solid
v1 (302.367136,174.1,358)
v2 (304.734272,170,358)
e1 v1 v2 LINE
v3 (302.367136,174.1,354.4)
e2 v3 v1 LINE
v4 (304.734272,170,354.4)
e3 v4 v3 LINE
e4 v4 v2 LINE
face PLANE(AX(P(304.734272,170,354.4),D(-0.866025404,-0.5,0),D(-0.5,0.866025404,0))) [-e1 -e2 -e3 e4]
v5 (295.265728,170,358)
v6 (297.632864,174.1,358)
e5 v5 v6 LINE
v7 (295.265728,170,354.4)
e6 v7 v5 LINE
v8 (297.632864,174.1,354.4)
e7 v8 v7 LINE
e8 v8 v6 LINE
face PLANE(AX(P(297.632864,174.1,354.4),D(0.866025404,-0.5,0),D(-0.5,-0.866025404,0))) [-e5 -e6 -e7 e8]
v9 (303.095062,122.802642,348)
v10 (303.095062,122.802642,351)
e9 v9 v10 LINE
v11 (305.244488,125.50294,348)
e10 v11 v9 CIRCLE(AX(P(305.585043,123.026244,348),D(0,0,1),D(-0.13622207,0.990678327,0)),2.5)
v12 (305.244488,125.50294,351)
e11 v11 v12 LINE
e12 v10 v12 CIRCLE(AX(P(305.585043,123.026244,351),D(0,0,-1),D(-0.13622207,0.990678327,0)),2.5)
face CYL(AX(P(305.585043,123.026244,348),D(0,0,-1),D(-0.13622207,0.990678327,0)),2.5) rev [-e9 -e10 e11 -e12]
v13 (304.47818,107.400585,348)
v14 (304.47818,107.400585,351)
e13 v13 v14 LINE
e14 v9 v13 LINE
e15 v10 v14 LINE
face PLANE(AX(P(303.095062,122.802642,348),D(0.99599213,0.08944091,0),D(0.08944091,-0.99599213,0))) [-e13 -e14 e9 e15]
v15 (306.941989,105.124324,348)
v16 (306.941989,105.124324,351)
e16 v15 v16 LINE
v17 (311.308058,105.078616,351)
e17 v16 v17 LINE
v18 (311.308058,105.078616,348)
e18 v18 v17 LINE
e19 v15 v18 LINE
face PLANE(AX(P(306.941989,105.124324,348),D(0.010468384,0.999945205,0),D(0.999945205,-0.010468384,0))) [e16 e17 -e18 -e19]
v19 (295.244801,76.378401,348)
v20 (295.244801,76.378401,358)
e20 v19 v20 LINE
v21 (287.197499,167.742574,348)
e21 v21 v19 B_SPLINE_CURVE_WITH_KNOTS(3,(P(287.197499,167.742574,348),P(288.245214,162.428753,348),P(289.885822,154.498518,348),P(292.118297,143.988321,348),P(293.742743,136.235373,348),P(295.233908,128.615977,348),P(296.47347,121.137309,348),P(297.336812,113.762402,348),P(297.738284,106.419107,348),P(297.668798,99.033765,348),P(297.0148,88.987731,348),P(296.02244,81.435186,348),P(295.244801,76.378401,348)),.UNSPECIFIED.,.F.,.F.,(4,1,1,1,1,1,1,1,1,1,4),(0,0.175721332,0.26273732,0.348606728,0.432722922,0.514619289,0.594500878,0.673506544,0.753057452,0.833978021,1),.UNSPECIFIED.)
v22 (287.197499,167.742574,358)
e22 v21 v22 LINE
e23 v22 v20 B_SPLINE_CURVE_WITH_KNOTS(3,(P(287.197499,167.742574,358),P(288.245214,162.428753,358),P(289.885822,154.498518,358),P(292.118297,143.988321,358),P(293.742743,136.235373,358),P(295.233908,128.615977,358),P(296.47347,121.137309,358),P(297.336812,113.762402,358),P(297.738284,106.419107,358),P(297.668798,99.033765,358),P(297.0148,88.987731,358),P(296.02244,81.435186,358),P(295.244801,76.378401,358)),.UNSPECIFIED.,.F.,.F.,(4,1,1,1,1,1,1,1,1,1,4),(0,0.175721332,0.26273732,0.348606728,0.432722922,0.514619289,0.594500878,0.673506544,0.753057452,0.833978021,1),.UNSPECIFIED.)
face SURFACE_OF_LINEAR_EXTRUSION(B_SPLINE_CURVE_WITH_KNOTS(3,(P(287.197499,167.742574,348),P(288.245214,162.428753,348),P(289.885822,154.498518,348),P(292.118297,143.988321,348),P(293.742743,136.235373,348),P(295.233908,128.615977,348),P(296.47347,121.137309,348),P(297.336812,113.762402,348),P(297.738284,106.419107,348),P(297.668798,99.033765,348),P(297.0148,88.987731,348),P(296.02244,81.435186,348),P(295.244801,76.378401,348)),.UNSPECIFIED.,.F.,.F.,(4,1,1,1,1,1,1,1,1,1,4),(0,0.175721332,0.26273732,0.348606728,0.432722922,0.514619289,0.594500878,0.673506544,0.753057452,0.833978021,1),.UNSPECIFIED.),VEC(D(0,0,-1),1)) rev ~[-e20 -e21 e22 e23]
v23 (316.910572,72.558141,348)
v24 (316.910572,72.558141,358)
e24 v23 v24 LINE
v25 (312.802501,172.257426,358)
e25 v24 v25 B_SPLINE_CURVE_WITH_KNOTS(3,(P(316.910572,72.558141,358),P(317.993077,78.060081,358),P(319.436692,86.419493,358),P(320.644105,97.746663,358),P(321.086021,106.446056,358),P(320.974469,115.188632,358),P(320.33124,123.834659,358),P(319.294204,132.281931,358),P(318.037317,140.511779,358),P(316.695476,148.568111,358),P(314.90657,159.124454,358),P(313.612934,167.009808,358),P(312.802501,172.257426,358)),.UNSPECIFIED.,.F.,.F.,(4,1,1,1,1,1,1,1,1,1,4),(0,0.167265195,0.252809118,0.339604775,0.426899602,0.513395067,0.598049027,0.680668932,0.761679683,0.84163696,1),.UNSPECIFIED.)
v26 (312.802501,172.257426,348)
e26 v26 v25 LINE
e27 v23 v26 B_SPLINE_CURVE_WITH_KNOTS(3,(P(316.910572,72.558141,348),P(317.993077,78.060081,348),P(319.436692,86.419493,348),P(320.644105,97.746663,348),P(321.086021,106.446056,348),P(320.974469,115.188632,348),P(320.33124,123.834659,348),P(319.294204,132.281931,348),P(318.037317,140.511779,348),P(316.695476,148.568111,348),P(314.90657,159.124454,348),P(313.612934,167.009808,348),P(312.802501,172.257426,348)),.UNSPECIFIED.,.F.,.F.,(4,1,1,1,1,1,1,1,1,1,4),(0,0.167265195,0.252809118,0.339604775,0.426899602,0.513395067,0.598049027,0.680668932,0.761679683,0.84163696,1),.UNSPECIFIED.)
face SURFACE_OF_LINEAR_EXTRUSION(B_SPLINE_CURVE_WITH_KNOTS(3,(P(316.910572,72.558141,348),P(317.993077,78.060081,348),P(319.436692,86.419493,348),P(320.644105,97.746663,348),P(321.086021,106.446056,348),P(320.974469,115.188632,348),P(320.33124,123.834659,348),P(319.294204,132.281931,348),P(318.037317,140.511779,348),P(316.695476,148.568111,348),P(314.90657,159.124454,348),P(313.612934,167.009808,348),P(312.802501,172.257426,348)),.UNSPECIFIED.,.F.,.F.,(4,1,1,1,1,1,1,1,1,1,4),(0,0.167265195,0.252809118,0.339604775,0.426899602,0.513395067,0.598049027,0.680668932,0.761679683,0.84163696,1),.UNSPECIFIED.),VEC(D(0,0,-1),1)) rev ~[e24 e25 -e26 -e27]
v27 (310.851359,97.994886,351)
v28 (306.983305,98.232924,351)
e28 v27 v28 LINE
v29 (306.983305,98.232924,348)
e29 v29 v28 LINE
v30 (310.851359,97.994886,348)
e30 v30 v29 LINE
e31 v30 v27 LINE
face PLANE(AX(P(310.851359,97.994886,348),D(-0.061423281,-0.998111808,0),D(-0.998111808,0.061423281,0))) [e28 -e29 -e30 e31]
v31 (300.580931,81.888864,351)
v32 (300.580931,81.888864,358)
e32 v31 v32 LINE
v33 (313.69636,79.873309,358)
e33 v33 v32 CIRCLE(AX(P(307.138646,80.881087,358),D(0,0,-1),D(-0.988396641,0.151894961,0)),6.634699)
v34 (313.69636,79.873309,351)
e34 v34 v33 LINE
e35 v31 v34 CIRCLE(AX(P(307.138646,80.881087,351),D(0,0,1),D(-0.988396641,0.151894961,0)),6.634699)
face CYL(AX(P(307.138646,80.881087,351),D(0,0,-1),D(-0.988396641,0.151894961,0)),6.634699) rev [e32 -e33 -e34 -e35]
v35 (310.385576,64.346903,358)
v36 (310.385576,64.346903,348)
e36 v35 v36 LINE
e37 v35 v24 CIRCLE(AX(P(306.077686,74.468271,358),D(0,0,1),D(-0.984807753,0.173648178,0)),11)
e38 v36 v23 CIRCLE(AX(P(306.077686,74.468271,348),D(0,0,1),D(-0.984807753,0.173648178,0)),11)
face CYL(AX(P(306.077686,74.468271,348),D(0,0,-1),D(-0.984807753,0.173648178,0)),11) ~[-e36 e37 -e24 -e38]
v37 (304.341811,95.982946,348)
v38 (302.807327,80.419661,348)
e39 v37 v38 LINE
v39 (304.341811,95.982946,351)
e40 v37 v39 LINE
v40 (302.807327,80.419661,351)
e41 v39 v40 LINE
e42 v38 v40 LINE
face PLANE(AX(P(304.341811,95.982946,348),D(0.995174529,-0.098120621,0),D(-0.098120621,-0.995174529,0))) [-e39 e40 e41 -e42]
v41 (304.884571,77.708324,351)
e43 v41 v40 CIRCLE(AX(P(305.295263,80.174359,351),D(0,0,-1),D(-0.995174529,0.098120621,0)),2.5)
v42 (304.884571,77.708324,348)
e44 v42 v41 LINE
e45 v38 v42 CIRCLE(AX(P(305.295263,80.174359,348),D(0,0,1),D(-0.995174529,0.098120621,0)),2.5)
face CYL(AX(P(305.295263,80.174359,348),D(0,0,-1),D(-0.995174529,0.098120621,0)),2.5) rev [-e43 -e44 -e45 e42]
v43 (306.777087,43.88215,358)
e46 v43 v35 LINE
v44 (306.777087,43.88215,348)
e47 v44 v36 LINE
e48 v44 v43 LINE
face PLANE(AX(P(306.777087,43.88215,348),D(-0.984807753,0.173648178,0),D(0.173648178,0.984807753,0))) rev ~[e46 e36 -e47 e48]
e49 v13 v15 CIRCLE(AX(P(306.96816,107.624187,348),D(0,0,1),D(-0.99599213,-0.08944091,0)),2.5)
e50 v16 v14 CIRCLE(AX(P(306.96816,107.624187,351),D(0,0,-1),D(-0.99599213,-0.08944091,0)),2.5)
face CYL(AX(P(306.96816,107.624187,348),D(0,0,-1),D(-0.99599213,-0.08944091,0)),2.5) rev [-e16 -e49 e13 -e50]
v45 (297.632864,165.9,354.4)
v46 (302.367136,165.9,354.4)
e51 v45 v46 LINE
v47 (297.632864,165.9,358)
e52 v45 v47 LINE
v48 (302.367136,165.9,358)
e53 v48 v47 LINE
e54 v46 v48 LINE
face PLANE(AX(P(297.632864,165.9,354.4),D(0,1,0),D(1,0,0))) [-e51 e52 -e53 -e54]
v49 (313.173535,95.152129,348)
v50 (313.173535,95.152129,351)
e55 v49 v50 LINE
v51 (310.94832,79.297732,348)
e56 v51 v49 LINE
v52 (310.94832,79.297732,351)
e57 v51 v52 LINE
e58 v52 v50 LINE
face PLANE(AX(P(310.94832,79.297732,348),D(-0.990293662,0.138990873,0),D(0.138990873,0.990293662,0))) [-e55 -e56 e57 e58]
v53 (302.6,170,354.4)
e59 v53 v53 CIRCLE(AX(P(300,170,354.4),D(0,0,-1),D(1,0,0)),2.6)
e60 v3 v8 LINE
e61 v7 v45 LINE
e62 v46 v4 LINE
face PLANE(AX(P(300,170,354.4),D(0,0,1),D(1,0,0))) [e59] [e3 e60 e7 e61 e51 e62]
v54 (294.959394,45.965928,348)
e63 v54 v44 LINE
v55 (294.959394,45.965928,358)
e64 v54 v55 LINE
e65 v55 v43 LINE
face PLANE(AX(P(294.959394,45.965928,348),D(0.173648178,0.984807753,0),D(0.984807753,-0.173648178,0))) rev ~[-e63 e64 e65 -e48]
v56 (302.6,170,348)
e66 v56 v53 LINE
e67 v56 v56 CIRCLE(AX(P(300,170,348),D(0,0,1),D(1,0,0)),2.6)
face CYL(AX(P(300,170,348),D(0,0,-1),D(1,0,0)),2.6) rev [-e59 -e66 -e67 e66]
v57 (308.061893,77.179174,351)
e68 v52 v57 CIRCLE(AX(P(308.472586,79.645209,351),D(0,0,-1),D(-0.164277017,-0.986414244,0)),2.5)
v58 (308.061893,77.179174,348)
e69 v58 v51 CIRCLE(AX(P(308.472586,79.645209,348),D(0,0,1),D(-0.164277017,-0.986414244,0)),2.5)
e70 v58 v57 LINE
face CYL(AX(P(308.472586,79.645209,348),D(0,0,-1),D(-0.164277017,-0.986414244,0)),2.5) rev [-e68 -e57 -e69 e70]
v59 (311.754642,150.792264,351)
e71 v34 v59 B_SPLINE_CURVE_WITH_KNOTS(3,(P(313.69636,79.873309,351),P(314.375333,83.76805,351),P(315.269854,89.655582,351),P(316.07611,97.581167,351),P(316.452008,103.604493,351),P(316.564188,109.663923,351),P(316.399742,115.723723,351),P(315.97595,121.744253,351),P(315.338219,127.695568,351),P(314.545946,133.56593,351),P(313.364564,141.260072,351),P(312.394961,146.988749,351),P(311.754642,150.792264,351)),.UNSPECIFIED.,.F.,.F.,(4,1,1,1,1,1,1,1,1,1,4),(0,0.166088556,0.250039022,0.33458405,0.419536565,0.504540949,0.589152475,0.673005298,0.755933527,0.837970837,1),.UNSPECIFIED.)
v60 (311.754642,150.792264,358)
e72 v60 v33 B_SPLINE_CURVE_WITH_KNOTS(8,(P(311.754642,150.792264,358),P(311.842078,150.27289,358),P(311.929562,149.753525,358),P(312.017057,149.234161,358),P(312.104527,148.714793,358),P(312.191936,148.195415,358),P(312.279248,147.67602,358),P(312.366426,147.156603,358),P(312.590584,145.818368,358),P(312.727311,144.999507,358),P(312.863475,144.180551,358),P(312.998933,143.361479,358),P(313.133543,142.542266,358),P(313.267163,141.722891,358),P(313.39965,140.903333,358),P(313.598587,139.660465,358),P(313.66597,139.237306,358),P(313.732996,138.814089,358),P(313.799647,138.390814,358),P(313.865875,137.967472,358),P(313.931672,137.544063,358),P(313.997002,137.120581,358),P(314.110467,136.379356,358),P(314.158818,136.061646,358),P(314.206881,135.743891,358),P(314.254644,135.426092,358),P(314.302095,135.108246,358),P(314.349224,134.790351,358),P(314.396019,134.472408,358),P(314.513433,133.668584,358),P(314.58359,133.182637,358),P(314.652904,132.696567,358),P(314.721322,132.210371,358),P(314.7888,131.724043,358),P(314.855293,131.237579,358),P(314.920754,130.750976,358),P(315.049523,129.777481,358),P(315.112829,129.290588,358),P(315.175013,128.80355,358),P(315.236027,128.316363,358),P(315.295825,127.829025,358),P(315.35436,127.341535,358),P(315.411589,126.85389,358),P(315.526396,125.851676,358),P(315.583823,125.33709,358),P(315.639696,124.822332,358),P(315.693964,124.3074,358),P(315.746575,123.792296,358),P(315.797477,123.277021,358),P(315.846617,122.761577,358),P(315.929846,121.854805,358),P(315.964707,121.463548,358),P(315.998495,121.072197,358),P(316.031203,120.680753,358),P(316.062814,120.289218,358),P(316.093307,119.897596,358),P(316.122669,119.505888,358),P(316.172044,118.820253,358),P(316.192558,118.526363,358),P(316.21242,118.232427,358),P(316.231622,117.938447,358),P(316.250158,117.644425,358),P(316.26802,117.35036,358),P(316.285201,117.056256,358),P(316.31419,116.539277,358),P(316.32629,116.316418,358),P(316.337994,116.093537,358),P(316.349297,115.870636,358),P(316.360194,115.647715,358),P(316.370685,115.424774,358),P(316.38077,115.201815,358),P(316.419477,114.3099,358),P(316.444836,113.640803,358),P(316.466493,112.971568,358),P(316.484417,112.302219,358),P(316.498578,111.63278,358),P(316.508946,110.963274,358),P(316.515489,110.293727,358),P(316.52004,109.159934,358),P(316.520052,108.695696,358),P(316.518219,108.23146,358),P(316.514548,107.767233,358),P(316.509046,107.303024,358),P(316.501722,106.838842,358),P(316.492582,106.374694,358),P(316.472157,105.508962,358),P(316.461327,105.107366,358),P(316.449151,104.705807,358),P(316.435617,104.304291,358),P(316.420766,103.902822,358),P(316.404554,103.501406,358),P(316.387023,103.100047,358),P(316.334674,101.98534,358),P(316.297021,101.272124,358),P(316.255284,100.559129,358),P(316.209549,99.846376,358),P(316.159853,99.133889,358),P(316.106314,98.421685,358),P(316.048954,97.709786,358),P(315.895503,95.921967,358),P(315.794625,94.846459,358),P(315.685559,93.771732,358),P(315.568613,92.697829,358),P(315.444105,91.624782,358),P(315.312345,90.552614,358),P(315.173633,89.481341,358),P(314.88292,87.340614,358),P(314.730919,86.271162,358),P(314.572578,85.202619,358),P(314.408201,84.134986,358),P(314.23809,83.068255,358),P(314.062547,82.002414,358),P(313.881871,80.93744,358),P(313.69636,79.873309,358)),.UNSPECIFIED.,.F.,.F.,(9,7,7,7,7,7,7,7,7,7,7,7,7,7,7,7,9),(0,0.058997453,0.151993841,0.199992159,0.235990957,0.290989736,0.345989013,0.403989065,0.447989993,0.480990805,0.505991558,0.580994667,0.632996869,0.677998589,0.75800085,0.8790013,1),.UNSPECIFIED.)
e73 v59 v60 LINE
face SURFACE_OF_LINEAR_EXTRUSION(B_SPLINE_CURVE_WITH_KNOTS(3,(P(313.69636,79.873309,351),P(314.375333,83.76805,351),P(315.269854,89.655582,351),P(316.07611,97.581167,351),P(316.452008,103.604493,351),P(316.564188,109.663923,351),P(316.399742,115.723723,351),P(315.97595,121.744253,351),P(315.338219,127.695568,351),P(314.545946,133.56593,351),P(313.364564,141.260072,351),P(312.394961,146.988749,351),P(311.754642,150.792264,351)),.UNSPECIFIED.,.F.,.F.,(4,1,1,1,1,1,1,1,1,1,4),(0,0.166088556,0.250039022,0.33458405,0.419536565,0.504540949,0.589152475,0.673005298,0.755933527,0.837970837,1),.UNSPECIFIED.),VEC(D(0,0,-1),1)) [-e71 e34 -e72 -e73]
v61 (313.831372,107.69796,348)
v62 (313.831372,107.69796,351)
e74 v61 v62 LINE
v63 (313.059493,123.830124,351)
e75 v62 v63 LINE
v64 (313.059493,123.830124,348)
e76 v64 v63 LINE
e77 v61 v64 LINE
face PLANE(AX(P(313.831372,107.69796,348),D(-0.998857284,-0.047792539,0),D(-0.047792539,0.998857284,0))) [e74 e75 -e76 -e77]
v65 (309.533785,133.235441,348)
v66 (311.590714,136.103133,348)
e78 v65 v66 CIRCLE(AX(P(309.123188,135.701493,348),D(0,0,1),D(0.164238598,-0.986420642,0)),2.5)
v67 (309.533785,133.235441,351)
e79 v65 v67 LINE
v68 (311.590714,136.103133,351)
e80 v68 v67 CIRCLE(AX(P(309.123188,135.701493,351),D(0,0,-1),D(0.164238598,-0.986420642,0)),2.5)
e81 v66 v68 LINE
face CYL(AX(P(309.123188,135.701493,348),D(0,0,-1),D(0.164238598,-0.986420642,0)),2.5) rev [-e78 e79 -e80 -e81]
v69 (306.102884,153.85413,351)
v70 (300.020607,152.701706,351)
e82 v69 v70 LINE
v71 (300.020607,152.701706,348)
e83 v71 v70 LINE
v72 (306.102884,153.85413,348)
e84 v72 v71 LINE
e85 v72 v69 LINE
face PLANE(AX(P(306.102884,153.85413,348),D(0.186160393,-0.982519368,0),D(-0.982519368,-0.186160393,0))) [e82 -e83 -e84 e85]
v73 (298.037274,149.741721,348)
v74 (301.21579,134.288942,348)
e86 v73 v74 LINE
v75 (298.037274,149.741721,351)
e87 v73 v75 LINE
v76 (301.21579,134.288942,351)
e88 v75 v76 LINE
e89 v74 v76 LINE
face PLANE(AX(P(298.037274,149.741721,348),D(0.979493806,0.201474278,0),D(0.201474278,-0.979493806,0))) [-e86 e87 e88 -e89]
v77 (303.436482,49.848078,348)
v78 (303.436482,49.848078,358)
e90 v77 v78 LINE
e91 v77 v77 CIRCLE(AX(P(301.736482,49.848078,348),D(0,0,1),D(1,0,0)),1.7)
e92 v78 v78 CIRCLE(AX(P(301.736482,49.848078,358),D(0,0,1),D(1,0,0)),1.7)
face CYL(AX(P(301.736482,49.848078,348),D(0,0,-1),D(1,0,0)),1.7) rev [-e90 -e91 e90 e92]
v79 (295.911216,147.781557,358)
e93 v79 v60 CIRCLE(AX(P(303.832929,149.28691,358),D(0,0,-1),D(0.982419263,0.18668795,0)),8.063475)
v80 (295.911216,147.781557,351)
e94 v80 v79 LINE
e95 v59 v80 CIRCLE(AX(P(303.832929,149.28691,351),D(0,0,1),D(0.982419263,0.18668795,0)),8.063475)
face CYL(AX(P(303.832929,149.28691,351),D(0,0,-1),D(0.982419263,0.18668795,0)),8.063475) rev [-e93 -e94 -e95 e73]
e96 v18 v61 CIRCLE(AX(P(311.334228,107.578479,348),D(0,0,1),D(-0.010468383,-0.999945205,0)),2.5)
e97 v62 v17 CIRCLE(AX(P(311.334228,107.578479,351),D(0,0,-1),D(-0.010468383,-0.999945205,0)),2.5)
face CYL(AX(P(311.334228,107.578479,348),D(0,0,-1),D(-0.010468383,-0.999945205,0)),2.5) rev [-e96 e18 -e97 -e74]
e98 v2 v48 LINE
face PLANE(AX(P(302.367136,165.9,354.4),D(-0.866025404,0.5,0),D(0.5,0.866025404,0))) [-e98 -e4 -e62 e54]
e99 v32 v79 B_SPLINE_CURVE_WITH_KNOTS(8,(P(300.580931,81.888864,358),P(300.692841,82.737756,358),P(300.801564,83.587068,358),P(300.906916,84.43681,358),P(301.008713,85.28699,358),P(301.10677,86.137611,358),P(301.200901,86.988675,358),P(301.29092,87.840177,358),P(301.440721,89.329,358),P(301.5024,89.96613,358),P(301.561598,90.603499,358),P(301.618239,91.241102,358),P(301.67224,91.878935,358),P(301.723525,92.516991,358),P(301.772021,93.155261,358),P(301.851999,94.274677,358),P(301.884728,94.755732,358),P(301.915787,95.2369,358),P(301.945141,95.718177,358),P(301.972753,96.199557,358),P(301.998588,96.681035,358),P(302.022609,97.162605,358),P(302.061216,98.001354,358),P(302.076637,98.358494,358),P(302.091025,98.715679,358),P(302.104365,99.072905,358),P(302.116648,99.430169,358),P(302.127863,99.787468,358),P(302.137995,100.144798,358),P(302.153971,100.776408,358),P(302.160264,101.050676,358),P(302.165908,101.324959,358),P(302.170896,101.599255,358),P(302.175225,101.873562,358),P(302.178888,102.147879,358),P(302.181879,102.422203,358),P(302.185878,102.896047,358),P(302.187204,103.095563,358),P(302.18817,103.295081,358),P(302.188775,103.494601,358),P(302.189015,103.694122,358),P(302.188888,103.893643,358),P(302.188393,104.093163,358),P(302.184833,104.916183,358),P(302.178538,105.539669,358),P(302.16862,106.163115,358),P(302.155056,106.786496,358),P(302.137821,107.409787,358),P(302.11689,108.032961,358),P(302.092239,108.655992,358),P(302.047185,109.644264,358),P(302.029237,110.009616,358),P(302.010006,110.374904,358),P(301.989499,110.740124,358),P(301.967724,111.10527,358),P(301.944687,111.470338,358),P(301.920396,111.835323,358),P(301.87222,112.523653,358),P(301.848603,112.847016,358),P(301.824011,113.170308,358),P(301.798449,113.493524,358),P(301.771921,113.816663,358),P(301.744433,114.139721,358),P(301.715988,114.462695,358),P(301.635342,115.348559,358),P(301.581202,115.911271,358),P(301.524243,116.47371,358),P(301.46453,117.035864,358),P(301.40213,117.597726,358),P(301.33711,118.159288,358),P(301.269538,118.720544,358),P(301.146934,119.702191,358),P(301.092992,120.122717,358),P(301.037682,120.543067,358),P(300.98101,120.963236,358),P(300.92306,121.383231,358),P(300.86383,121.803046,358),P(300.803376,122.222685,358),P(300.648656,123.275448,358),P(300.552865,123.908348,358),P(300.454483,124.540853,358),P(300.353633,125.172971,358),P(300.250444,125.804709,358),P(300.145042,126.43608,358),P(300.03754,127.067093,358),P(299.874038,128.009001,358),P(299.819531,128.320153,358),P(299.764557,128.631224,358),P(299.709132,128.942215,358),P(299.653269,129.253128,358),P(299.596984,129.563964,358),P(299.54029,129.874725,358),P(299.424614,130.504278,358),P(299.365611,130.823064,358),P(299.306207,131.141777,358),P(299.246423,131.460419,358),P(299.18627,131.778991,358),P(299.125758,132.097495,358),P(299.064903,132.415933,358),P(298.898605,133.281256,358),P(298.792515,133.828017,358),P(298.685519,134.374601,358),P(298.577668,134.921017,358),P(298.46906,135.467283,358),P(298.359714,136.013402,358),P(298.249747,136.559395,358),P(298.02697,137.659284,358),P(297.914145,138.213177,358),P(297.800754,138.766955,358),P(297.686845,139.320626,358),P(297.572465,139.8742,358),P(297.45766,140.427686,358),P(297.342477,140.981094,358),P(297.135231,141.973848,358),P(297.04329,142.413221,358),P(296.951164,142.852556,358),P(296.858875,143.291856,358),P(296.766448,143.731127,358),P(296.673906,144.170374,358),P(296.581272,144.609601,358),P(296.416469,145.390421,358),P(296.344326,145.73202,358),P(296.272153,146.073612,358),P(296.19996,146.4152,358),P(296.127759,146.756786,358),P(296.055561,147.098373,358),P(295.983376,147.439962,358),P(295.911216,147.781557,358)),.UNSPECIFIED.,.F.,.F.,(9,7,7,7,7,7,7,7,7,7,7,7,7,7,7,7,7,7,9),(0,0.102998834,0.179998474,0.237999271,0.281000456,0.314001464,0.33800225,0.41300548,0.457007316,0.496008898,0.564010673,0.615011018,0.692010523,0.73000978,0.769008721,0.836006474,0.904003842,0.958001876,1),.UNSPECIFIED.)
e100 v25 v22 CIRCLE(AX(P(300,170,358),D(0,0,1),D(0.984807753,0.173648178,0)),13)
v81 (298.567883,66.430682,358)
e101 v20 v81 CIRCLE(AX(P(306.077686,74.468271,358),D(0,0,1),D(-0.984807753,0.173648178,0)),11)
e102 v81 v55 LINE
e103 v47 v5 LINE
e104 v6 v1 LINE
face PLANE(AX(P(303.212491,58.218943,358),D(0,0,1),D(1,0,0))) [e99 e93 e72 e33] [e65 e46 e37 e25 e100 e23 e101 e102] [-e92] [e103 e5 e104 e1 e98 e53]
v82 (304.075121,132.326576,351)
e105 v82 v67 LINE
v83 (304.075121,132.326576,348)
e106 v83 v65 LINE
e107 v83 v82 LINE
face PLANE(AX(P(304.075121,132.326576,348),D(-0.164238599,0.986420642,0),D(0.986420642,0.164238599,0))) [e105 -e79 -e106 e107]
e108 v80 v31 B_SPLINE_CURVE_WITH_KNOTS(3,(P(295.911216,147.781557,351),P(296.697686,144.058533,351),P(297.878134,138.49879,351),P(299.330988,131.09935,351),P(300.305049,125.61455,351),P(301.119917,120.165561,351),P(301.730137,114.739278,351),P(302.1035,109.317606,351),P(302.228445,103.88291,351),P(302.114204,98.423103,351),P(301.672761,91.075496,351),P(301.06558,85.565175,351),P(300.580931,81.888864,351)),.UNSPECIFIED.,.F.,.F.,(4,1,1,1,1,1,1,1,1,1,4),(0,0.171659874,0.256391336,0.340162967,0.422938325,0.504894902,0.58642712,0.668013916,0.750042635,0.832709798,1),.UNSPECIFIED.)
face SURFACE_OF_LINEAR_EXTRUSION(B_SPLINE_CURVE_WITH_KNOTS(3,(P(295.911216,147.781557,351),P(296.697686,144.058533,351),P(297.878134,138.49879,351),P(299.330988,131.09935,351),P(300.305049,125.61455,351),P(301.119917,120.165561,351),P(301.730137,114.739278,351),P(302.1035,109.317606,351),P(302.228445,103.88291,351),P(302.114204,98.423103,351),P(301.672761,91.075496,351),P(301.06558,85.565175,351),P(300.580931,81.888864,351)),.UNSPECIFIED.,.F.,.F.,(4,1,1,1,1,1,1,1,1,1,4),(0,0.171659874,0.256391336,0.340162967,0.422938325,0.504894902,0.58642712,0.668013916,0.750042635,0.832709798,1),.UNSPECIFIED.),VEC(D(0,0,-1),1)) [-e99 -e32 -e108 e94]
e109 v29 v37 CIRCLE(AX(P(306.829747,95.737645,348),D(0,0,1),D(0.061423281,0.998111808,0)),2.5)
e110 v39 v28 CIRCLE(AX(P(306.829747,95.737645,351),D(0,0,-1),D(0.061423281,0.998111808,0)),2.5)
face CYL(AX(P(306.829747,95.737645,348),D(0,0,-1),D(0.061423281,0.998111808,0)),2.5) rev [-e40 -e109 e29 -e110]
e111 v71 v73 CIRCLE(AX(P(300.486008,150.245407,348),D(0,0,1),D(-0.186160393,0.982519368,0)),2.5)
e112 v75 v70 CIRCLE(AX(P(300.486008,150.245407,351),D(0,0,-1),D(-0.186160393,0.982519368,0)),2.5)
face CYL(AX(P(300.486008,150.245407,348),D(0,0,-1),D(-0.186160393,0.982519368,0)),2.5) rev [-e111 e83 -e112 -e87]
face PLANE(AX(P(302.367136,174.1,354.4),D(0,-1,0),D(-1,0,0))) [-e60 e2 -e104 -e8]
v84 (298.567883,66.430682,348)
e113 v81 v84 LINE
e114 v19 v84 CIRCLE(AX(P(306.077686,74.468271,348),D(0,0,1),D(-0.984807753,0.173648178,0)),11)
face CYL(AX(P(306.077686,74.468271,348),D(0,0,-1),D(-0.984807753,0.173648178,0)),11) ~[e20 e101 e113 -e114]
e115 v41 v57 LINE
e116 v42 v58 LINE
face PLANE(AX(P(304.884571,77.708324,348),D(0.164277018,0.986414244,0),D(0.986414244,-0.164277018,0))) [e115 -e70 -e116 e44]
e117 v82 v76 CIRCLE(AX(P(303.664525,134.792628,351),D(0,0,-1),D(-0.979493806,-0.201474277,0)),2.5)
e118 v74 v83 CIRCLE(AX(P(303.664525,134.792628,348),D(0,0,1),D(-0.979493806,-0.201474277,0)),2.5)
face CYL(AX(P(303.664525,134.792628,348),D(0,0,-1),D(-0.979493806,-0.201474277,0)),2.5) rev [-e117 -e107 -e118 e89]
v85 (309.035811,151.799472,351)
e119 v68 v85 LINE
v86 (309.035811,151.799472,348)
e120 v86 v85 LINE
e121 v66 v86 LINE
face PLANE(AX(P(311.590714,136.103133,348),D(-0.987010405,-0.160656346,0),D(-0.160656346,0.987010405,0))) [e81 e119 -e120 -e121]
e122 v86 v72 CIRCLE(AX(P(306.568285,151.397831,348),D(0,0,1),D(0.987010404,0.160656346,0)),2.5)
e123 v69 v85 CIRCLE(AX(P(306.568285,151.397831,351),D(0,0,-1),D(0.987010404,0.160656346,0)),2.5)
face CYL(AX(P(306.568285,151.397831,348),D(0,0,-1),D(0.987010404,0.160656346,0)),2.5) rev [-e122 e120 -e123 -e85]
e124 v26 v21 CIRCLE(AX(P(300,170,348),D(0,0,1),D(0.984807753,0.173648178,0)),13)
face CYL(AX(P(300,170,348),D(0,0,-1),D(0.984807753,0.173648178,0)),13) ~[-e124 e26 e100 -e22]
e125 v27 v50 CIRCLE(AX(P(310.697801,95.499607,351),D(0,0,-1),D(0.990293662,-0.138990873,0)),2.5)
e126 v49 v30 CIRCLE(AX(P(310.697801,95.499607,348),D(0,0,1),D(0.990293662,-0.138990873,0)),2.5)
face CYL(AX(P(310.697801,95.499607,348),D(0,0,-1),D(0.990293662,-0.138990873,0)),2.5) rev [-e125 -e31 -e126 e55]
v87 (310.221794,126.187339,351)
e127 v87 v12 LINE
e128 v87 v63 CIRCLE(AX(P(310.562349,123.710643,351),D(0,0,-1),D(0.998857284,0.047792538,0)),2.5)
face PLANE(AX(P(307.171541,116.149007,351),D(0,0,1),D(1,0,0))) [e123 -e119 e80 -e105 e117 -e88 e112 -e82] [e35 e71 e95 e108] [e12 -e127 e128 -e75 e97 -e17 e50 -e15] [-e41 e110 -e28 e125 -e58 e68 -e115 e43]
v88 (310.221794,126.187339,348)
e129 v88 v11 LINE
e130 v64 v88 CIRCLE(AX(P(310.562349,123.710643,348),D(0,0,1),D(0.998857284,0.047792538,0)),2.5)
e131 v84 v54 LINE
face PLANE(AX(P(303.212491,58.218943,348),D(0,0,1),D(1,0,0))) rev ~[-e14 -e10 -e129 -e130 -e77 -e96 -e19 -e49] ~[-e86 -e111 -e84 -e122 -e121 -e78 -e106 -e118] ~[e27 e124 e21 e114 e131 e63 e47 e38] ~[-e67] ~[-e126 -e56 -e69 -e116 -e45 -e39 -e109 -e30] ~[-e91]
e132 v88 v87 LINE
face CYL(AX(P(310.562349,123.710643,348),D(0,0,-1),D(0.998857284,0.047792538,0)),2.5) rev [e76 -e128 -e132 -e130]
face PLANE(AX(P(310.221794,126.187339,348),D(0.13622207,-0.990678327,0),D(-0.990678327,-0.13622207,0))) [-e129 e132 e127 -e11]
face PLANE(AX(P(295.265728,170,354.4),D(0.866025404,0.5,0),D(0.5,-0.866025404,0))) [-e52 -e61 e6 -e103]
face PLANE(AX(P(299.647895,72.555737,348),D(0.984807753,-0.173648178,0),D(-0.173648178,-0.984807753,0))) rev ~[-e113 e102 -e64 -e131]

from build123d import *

# Parameters (mm, degrees)
SKETCH1_R           = 2.6
BOSS_EXTRUDE1_DEPTH = 10
SKETCH2_R           = 1.7
BOSS_EXTRUDE2_DEPTH = 10
CUT_EXTRUDE1_DEPTH  = 3.61
CUT_EXTRUDE2_DEPTH  = 7.01


with BuildPart() as part:
    # Sketch1 → Boss-Extrude1 (new body)
    with BuildSketch(Plane.XY.offset(348)):
        with BuildLine():
            ThreePointArc((295.244800935, 76.37840131), (304.167556264, 63.635386072), (316.910571501, 72.558141401))
            add(Edge.make_bspline(
                [(316.910571501, 72.558141401), (317.993077182, 78.060080938), (319.436691833, 86.419493367), (320.644104939, 97.746663028), (321.086020795, 106.446056452), (320.974468629, 115.188631518), (320.331239752, 123.834659135), (319.294204188, 132.281931409), (318.037316746, 140.511779077), (316.695476199, 148.568110679), (314.90656957, 159.124453911), (313.612933772, 167.009808068), (312.802500789, 172.25742631)],
                knots=[0, 0, 0, 0, 0.167265195, 0.252809118, 0.339604775, 0.426899602, 0.513395067, 0.598049027, 0.680668932, 0.761679683, 0.84163696, 1, 1, 1, 1], degree=3))
            ThreePointArc((312.802500789, 172.25742631), (297.74257369, 182.802500789), (287.197499211, 167.74257369))
            add(Edge.make_bspline(
                [(287.197499211, 167.74257369), (288.245214147, 162.428752521), (289.885822364, 154.498518205), (292.118297352, 143.988320878), (293.742742512, 136.235372867), (295.2339085, 128.615976653), (296.473470386, 121.13730858), (297.336811691, 113.762401768), (297.738284398, 106.419106942), (297.668798337, 99.033764721), (297.014800417, 88.987730843), (296.022440082, 81.435185794), (295.244800935, 76.37840131)],
                knots=[0, 0, 0, 0, 0.175721332, 0.26273732, 0.348606728, 0.432722922, 0.514619289, 0.594500878, 0.673506544, 0.753057452, 0.833978021, 1, 1, 1, 1], degree=3))
        make_face()
        with Locations((300, 170)):
            Circle(SKETCH1_R, mode=Mode.SUBTRACT)
        with BuildLine():
            Line((298.037273547, 149.741721474), (301.215790437, 134.288941883))
            ThreePointArc((301.215790437, 134.288941883), (302.249879541, 132.731371076), (304.075121449, 132.326575973))
            Line((304.075121449, 132.326575973), (309.533784891, 133.235441013))
            ThreePointArc((309.533784891, 133.235441013), (311.154644108, 134.244376396), (311.590714405, 136.103133481))
            Line((311.590714405, 136.103133481), (309.035810829, 151.799472168))
            ThreePointArc((309.035810829, 151.799472168), (308.002694304, 153.44538336), (306.102883834, 153.854129723))
            Line((306.102883834, 153.854129723), (300.020607078, 152.701705588))
            ThreePointArc((300.020607078, 152.701705588), (298.409129896, 151.6370167), (298.037273547, 149.741721474))
        make_face(mode=Mode.SUBTRACT)
        with BuildLine():
            Line((303.095062376, 122.802641733), (304.478179716, 107.400584875))
            ThreePointArc((304.478179716, 107.400584875), (305.271665108, 105.787912405), (306.941989082, 105.124324138))
            Line((306.941989082, 105.124324138), (311.308057506, 105.078615953))
            ThreePointArc((311.308057506, 105.078615953), (313.134691512, 105.844024349), (313.831371675, 107.697960312))
            Line((313.831371675, 107.697960312), (313.059492575, 123.830124112))
            ThreePointArc((313.059492575, 123.830124112), (312.159795141, 125.633704646), (310.221794191, 126.187338583))
            Line((310.221794191, 126.187338583), (305.244487527, 125.502939826))
            ThreePointArc((305.244487527, 125.502939826), (303.629055674, 124.583200895), (303.095062376, 122.802641733))
        make_face(mode=Mode.SUBTRACT)
        with BuildLine():
            Line((304.341810749, 95.98294616), (302.807326902, 80.41966071))
            ThreePointArc((302.807326902, 80.41966071), (303.310735667, 78.653947907), (304.884570682, 77.708323546))
            Line((304.884570682, 77.708323546), (308.061893299, 77.17917356))
            ThreePointArc((308.061893299, 77.17917356), (309.951832836, 77.629811361), (310.948319998, 79.297731989))
            Line((310.948319998, 79.297731989), (313.173535223, 95.152129395))
            ThreePointArc((313.173535223, 95.152129395), (312.633934067, 97.081184589), (310.85135927, 97.994886096))
            Line((310.85135927, 97.994886096), (306.983305274, 98.232924126))
            ThreePointArc((306.983305274, 98.232924126), (305.208657773, 97.640818137), (304.341810749, 95.98294616))
        make_face(mode=Mode.SUBTRACT)
    extrude(amount=BOSS_EXTRUDE1_DEPTH)

    # Sketch2 → Boss-Extrude2 (add)
    with BuildSketch(Plane.XY.offset(348)):
        Polygon((294.95939437, 45.965927831), (306.777087406, 43.882149699), (311.465588203, 70.47195903), (299.647895167, 72.555737162), align=None)
        with Locations((301.736481777, 49.84807753)):
            Circle(SKETCH2_R, mode=Mode.SUBTRACT)
    extrude(amount=BOSS_EXTRUDE2_DEPTH)

    # Sketch3 → Cut-Extrude1 (cut)
    with BuildSketch(Plane.XY.offset(354.4)):
        Polygon((304.734272207, 170), (302.367136104, 174.1), (297.632863896, 174.1), (295.265727793, 170), (297.632863896, 165.9), (302.367136104, 165.9), align=None)
    extrude(amount=CUT_EXTRUDE1_DEPTH, mode=Mode.SUBTRACT)

    # Sketch4 → Cut-Extrude2 (cut)
    with BuildSketch(Plane.XY.offset(351)):
        with BuildLine():
            ThreePointArc((300.580931265, 81.888864063), (306.130868326, 74.323372231), (313.696360158, 79.873309293))
            add(Edge.make_bspline(
                [(313.696360158, 79.873309293), (314.375332718, 83.768049726), (315.269853801, 89.655581864), (316.076109947, 97.581166828), (316.452007736, 103.60449348), (316.564187736, 109.663923395), (316.399741723, 115.723723037), (315.97594992, 121.744253087), (315.33821911, 127.695568385), (314.545946492, 133.565929662), (313.36456358, 141.260072259), (312.394961182, 146.988748853), (311.75464163, 150.792263987)],
                knots=[0, 0, 0, 0, 0.166088556, 0.250039022, 0.33458405, 0.419536565, 0.504540949, 0.589152475, 0.673005298, 0.755933527, 0.837970837, 1, 1, 1, 1], degree=3))
            ThreePointArc((311.75464163, 150.792263987), (302.327575287, 157.208623235), (295.911216039, 147.781556891))
            add(Edge.make_bspline(
                [(295.911216039, 147.781556891), (296.697686325, 144.058532846), (297.878134482, 138.498789725), (299.330987648, 131.099349657), (300.305049322, 125.614550146), (301.11991691, 120.165560812), (301.730137241, 114.739277873), (302.103500244, 109.317606169), (302.228444831, 103.882909759), (302.114203921, 98.423103229), (301.672760974, 91.075496307), (301.065579784, 85.565175403), (300.580931265, 81.888864063)],
                knots=[0, 0, 0, 0, 0.171659874, 0.256391336, 0.340162967, 0.422938325, 0.504894902, 0.58642712, 0.668013916, 0.750042635, 0.832709798, 1, 1, 1, 1], degree=3))
        make_face()
    extrude(amount=CUT_EXTRUDE2_DEPTH, mode=Mode.SUBTRACT)


solid = part.part
